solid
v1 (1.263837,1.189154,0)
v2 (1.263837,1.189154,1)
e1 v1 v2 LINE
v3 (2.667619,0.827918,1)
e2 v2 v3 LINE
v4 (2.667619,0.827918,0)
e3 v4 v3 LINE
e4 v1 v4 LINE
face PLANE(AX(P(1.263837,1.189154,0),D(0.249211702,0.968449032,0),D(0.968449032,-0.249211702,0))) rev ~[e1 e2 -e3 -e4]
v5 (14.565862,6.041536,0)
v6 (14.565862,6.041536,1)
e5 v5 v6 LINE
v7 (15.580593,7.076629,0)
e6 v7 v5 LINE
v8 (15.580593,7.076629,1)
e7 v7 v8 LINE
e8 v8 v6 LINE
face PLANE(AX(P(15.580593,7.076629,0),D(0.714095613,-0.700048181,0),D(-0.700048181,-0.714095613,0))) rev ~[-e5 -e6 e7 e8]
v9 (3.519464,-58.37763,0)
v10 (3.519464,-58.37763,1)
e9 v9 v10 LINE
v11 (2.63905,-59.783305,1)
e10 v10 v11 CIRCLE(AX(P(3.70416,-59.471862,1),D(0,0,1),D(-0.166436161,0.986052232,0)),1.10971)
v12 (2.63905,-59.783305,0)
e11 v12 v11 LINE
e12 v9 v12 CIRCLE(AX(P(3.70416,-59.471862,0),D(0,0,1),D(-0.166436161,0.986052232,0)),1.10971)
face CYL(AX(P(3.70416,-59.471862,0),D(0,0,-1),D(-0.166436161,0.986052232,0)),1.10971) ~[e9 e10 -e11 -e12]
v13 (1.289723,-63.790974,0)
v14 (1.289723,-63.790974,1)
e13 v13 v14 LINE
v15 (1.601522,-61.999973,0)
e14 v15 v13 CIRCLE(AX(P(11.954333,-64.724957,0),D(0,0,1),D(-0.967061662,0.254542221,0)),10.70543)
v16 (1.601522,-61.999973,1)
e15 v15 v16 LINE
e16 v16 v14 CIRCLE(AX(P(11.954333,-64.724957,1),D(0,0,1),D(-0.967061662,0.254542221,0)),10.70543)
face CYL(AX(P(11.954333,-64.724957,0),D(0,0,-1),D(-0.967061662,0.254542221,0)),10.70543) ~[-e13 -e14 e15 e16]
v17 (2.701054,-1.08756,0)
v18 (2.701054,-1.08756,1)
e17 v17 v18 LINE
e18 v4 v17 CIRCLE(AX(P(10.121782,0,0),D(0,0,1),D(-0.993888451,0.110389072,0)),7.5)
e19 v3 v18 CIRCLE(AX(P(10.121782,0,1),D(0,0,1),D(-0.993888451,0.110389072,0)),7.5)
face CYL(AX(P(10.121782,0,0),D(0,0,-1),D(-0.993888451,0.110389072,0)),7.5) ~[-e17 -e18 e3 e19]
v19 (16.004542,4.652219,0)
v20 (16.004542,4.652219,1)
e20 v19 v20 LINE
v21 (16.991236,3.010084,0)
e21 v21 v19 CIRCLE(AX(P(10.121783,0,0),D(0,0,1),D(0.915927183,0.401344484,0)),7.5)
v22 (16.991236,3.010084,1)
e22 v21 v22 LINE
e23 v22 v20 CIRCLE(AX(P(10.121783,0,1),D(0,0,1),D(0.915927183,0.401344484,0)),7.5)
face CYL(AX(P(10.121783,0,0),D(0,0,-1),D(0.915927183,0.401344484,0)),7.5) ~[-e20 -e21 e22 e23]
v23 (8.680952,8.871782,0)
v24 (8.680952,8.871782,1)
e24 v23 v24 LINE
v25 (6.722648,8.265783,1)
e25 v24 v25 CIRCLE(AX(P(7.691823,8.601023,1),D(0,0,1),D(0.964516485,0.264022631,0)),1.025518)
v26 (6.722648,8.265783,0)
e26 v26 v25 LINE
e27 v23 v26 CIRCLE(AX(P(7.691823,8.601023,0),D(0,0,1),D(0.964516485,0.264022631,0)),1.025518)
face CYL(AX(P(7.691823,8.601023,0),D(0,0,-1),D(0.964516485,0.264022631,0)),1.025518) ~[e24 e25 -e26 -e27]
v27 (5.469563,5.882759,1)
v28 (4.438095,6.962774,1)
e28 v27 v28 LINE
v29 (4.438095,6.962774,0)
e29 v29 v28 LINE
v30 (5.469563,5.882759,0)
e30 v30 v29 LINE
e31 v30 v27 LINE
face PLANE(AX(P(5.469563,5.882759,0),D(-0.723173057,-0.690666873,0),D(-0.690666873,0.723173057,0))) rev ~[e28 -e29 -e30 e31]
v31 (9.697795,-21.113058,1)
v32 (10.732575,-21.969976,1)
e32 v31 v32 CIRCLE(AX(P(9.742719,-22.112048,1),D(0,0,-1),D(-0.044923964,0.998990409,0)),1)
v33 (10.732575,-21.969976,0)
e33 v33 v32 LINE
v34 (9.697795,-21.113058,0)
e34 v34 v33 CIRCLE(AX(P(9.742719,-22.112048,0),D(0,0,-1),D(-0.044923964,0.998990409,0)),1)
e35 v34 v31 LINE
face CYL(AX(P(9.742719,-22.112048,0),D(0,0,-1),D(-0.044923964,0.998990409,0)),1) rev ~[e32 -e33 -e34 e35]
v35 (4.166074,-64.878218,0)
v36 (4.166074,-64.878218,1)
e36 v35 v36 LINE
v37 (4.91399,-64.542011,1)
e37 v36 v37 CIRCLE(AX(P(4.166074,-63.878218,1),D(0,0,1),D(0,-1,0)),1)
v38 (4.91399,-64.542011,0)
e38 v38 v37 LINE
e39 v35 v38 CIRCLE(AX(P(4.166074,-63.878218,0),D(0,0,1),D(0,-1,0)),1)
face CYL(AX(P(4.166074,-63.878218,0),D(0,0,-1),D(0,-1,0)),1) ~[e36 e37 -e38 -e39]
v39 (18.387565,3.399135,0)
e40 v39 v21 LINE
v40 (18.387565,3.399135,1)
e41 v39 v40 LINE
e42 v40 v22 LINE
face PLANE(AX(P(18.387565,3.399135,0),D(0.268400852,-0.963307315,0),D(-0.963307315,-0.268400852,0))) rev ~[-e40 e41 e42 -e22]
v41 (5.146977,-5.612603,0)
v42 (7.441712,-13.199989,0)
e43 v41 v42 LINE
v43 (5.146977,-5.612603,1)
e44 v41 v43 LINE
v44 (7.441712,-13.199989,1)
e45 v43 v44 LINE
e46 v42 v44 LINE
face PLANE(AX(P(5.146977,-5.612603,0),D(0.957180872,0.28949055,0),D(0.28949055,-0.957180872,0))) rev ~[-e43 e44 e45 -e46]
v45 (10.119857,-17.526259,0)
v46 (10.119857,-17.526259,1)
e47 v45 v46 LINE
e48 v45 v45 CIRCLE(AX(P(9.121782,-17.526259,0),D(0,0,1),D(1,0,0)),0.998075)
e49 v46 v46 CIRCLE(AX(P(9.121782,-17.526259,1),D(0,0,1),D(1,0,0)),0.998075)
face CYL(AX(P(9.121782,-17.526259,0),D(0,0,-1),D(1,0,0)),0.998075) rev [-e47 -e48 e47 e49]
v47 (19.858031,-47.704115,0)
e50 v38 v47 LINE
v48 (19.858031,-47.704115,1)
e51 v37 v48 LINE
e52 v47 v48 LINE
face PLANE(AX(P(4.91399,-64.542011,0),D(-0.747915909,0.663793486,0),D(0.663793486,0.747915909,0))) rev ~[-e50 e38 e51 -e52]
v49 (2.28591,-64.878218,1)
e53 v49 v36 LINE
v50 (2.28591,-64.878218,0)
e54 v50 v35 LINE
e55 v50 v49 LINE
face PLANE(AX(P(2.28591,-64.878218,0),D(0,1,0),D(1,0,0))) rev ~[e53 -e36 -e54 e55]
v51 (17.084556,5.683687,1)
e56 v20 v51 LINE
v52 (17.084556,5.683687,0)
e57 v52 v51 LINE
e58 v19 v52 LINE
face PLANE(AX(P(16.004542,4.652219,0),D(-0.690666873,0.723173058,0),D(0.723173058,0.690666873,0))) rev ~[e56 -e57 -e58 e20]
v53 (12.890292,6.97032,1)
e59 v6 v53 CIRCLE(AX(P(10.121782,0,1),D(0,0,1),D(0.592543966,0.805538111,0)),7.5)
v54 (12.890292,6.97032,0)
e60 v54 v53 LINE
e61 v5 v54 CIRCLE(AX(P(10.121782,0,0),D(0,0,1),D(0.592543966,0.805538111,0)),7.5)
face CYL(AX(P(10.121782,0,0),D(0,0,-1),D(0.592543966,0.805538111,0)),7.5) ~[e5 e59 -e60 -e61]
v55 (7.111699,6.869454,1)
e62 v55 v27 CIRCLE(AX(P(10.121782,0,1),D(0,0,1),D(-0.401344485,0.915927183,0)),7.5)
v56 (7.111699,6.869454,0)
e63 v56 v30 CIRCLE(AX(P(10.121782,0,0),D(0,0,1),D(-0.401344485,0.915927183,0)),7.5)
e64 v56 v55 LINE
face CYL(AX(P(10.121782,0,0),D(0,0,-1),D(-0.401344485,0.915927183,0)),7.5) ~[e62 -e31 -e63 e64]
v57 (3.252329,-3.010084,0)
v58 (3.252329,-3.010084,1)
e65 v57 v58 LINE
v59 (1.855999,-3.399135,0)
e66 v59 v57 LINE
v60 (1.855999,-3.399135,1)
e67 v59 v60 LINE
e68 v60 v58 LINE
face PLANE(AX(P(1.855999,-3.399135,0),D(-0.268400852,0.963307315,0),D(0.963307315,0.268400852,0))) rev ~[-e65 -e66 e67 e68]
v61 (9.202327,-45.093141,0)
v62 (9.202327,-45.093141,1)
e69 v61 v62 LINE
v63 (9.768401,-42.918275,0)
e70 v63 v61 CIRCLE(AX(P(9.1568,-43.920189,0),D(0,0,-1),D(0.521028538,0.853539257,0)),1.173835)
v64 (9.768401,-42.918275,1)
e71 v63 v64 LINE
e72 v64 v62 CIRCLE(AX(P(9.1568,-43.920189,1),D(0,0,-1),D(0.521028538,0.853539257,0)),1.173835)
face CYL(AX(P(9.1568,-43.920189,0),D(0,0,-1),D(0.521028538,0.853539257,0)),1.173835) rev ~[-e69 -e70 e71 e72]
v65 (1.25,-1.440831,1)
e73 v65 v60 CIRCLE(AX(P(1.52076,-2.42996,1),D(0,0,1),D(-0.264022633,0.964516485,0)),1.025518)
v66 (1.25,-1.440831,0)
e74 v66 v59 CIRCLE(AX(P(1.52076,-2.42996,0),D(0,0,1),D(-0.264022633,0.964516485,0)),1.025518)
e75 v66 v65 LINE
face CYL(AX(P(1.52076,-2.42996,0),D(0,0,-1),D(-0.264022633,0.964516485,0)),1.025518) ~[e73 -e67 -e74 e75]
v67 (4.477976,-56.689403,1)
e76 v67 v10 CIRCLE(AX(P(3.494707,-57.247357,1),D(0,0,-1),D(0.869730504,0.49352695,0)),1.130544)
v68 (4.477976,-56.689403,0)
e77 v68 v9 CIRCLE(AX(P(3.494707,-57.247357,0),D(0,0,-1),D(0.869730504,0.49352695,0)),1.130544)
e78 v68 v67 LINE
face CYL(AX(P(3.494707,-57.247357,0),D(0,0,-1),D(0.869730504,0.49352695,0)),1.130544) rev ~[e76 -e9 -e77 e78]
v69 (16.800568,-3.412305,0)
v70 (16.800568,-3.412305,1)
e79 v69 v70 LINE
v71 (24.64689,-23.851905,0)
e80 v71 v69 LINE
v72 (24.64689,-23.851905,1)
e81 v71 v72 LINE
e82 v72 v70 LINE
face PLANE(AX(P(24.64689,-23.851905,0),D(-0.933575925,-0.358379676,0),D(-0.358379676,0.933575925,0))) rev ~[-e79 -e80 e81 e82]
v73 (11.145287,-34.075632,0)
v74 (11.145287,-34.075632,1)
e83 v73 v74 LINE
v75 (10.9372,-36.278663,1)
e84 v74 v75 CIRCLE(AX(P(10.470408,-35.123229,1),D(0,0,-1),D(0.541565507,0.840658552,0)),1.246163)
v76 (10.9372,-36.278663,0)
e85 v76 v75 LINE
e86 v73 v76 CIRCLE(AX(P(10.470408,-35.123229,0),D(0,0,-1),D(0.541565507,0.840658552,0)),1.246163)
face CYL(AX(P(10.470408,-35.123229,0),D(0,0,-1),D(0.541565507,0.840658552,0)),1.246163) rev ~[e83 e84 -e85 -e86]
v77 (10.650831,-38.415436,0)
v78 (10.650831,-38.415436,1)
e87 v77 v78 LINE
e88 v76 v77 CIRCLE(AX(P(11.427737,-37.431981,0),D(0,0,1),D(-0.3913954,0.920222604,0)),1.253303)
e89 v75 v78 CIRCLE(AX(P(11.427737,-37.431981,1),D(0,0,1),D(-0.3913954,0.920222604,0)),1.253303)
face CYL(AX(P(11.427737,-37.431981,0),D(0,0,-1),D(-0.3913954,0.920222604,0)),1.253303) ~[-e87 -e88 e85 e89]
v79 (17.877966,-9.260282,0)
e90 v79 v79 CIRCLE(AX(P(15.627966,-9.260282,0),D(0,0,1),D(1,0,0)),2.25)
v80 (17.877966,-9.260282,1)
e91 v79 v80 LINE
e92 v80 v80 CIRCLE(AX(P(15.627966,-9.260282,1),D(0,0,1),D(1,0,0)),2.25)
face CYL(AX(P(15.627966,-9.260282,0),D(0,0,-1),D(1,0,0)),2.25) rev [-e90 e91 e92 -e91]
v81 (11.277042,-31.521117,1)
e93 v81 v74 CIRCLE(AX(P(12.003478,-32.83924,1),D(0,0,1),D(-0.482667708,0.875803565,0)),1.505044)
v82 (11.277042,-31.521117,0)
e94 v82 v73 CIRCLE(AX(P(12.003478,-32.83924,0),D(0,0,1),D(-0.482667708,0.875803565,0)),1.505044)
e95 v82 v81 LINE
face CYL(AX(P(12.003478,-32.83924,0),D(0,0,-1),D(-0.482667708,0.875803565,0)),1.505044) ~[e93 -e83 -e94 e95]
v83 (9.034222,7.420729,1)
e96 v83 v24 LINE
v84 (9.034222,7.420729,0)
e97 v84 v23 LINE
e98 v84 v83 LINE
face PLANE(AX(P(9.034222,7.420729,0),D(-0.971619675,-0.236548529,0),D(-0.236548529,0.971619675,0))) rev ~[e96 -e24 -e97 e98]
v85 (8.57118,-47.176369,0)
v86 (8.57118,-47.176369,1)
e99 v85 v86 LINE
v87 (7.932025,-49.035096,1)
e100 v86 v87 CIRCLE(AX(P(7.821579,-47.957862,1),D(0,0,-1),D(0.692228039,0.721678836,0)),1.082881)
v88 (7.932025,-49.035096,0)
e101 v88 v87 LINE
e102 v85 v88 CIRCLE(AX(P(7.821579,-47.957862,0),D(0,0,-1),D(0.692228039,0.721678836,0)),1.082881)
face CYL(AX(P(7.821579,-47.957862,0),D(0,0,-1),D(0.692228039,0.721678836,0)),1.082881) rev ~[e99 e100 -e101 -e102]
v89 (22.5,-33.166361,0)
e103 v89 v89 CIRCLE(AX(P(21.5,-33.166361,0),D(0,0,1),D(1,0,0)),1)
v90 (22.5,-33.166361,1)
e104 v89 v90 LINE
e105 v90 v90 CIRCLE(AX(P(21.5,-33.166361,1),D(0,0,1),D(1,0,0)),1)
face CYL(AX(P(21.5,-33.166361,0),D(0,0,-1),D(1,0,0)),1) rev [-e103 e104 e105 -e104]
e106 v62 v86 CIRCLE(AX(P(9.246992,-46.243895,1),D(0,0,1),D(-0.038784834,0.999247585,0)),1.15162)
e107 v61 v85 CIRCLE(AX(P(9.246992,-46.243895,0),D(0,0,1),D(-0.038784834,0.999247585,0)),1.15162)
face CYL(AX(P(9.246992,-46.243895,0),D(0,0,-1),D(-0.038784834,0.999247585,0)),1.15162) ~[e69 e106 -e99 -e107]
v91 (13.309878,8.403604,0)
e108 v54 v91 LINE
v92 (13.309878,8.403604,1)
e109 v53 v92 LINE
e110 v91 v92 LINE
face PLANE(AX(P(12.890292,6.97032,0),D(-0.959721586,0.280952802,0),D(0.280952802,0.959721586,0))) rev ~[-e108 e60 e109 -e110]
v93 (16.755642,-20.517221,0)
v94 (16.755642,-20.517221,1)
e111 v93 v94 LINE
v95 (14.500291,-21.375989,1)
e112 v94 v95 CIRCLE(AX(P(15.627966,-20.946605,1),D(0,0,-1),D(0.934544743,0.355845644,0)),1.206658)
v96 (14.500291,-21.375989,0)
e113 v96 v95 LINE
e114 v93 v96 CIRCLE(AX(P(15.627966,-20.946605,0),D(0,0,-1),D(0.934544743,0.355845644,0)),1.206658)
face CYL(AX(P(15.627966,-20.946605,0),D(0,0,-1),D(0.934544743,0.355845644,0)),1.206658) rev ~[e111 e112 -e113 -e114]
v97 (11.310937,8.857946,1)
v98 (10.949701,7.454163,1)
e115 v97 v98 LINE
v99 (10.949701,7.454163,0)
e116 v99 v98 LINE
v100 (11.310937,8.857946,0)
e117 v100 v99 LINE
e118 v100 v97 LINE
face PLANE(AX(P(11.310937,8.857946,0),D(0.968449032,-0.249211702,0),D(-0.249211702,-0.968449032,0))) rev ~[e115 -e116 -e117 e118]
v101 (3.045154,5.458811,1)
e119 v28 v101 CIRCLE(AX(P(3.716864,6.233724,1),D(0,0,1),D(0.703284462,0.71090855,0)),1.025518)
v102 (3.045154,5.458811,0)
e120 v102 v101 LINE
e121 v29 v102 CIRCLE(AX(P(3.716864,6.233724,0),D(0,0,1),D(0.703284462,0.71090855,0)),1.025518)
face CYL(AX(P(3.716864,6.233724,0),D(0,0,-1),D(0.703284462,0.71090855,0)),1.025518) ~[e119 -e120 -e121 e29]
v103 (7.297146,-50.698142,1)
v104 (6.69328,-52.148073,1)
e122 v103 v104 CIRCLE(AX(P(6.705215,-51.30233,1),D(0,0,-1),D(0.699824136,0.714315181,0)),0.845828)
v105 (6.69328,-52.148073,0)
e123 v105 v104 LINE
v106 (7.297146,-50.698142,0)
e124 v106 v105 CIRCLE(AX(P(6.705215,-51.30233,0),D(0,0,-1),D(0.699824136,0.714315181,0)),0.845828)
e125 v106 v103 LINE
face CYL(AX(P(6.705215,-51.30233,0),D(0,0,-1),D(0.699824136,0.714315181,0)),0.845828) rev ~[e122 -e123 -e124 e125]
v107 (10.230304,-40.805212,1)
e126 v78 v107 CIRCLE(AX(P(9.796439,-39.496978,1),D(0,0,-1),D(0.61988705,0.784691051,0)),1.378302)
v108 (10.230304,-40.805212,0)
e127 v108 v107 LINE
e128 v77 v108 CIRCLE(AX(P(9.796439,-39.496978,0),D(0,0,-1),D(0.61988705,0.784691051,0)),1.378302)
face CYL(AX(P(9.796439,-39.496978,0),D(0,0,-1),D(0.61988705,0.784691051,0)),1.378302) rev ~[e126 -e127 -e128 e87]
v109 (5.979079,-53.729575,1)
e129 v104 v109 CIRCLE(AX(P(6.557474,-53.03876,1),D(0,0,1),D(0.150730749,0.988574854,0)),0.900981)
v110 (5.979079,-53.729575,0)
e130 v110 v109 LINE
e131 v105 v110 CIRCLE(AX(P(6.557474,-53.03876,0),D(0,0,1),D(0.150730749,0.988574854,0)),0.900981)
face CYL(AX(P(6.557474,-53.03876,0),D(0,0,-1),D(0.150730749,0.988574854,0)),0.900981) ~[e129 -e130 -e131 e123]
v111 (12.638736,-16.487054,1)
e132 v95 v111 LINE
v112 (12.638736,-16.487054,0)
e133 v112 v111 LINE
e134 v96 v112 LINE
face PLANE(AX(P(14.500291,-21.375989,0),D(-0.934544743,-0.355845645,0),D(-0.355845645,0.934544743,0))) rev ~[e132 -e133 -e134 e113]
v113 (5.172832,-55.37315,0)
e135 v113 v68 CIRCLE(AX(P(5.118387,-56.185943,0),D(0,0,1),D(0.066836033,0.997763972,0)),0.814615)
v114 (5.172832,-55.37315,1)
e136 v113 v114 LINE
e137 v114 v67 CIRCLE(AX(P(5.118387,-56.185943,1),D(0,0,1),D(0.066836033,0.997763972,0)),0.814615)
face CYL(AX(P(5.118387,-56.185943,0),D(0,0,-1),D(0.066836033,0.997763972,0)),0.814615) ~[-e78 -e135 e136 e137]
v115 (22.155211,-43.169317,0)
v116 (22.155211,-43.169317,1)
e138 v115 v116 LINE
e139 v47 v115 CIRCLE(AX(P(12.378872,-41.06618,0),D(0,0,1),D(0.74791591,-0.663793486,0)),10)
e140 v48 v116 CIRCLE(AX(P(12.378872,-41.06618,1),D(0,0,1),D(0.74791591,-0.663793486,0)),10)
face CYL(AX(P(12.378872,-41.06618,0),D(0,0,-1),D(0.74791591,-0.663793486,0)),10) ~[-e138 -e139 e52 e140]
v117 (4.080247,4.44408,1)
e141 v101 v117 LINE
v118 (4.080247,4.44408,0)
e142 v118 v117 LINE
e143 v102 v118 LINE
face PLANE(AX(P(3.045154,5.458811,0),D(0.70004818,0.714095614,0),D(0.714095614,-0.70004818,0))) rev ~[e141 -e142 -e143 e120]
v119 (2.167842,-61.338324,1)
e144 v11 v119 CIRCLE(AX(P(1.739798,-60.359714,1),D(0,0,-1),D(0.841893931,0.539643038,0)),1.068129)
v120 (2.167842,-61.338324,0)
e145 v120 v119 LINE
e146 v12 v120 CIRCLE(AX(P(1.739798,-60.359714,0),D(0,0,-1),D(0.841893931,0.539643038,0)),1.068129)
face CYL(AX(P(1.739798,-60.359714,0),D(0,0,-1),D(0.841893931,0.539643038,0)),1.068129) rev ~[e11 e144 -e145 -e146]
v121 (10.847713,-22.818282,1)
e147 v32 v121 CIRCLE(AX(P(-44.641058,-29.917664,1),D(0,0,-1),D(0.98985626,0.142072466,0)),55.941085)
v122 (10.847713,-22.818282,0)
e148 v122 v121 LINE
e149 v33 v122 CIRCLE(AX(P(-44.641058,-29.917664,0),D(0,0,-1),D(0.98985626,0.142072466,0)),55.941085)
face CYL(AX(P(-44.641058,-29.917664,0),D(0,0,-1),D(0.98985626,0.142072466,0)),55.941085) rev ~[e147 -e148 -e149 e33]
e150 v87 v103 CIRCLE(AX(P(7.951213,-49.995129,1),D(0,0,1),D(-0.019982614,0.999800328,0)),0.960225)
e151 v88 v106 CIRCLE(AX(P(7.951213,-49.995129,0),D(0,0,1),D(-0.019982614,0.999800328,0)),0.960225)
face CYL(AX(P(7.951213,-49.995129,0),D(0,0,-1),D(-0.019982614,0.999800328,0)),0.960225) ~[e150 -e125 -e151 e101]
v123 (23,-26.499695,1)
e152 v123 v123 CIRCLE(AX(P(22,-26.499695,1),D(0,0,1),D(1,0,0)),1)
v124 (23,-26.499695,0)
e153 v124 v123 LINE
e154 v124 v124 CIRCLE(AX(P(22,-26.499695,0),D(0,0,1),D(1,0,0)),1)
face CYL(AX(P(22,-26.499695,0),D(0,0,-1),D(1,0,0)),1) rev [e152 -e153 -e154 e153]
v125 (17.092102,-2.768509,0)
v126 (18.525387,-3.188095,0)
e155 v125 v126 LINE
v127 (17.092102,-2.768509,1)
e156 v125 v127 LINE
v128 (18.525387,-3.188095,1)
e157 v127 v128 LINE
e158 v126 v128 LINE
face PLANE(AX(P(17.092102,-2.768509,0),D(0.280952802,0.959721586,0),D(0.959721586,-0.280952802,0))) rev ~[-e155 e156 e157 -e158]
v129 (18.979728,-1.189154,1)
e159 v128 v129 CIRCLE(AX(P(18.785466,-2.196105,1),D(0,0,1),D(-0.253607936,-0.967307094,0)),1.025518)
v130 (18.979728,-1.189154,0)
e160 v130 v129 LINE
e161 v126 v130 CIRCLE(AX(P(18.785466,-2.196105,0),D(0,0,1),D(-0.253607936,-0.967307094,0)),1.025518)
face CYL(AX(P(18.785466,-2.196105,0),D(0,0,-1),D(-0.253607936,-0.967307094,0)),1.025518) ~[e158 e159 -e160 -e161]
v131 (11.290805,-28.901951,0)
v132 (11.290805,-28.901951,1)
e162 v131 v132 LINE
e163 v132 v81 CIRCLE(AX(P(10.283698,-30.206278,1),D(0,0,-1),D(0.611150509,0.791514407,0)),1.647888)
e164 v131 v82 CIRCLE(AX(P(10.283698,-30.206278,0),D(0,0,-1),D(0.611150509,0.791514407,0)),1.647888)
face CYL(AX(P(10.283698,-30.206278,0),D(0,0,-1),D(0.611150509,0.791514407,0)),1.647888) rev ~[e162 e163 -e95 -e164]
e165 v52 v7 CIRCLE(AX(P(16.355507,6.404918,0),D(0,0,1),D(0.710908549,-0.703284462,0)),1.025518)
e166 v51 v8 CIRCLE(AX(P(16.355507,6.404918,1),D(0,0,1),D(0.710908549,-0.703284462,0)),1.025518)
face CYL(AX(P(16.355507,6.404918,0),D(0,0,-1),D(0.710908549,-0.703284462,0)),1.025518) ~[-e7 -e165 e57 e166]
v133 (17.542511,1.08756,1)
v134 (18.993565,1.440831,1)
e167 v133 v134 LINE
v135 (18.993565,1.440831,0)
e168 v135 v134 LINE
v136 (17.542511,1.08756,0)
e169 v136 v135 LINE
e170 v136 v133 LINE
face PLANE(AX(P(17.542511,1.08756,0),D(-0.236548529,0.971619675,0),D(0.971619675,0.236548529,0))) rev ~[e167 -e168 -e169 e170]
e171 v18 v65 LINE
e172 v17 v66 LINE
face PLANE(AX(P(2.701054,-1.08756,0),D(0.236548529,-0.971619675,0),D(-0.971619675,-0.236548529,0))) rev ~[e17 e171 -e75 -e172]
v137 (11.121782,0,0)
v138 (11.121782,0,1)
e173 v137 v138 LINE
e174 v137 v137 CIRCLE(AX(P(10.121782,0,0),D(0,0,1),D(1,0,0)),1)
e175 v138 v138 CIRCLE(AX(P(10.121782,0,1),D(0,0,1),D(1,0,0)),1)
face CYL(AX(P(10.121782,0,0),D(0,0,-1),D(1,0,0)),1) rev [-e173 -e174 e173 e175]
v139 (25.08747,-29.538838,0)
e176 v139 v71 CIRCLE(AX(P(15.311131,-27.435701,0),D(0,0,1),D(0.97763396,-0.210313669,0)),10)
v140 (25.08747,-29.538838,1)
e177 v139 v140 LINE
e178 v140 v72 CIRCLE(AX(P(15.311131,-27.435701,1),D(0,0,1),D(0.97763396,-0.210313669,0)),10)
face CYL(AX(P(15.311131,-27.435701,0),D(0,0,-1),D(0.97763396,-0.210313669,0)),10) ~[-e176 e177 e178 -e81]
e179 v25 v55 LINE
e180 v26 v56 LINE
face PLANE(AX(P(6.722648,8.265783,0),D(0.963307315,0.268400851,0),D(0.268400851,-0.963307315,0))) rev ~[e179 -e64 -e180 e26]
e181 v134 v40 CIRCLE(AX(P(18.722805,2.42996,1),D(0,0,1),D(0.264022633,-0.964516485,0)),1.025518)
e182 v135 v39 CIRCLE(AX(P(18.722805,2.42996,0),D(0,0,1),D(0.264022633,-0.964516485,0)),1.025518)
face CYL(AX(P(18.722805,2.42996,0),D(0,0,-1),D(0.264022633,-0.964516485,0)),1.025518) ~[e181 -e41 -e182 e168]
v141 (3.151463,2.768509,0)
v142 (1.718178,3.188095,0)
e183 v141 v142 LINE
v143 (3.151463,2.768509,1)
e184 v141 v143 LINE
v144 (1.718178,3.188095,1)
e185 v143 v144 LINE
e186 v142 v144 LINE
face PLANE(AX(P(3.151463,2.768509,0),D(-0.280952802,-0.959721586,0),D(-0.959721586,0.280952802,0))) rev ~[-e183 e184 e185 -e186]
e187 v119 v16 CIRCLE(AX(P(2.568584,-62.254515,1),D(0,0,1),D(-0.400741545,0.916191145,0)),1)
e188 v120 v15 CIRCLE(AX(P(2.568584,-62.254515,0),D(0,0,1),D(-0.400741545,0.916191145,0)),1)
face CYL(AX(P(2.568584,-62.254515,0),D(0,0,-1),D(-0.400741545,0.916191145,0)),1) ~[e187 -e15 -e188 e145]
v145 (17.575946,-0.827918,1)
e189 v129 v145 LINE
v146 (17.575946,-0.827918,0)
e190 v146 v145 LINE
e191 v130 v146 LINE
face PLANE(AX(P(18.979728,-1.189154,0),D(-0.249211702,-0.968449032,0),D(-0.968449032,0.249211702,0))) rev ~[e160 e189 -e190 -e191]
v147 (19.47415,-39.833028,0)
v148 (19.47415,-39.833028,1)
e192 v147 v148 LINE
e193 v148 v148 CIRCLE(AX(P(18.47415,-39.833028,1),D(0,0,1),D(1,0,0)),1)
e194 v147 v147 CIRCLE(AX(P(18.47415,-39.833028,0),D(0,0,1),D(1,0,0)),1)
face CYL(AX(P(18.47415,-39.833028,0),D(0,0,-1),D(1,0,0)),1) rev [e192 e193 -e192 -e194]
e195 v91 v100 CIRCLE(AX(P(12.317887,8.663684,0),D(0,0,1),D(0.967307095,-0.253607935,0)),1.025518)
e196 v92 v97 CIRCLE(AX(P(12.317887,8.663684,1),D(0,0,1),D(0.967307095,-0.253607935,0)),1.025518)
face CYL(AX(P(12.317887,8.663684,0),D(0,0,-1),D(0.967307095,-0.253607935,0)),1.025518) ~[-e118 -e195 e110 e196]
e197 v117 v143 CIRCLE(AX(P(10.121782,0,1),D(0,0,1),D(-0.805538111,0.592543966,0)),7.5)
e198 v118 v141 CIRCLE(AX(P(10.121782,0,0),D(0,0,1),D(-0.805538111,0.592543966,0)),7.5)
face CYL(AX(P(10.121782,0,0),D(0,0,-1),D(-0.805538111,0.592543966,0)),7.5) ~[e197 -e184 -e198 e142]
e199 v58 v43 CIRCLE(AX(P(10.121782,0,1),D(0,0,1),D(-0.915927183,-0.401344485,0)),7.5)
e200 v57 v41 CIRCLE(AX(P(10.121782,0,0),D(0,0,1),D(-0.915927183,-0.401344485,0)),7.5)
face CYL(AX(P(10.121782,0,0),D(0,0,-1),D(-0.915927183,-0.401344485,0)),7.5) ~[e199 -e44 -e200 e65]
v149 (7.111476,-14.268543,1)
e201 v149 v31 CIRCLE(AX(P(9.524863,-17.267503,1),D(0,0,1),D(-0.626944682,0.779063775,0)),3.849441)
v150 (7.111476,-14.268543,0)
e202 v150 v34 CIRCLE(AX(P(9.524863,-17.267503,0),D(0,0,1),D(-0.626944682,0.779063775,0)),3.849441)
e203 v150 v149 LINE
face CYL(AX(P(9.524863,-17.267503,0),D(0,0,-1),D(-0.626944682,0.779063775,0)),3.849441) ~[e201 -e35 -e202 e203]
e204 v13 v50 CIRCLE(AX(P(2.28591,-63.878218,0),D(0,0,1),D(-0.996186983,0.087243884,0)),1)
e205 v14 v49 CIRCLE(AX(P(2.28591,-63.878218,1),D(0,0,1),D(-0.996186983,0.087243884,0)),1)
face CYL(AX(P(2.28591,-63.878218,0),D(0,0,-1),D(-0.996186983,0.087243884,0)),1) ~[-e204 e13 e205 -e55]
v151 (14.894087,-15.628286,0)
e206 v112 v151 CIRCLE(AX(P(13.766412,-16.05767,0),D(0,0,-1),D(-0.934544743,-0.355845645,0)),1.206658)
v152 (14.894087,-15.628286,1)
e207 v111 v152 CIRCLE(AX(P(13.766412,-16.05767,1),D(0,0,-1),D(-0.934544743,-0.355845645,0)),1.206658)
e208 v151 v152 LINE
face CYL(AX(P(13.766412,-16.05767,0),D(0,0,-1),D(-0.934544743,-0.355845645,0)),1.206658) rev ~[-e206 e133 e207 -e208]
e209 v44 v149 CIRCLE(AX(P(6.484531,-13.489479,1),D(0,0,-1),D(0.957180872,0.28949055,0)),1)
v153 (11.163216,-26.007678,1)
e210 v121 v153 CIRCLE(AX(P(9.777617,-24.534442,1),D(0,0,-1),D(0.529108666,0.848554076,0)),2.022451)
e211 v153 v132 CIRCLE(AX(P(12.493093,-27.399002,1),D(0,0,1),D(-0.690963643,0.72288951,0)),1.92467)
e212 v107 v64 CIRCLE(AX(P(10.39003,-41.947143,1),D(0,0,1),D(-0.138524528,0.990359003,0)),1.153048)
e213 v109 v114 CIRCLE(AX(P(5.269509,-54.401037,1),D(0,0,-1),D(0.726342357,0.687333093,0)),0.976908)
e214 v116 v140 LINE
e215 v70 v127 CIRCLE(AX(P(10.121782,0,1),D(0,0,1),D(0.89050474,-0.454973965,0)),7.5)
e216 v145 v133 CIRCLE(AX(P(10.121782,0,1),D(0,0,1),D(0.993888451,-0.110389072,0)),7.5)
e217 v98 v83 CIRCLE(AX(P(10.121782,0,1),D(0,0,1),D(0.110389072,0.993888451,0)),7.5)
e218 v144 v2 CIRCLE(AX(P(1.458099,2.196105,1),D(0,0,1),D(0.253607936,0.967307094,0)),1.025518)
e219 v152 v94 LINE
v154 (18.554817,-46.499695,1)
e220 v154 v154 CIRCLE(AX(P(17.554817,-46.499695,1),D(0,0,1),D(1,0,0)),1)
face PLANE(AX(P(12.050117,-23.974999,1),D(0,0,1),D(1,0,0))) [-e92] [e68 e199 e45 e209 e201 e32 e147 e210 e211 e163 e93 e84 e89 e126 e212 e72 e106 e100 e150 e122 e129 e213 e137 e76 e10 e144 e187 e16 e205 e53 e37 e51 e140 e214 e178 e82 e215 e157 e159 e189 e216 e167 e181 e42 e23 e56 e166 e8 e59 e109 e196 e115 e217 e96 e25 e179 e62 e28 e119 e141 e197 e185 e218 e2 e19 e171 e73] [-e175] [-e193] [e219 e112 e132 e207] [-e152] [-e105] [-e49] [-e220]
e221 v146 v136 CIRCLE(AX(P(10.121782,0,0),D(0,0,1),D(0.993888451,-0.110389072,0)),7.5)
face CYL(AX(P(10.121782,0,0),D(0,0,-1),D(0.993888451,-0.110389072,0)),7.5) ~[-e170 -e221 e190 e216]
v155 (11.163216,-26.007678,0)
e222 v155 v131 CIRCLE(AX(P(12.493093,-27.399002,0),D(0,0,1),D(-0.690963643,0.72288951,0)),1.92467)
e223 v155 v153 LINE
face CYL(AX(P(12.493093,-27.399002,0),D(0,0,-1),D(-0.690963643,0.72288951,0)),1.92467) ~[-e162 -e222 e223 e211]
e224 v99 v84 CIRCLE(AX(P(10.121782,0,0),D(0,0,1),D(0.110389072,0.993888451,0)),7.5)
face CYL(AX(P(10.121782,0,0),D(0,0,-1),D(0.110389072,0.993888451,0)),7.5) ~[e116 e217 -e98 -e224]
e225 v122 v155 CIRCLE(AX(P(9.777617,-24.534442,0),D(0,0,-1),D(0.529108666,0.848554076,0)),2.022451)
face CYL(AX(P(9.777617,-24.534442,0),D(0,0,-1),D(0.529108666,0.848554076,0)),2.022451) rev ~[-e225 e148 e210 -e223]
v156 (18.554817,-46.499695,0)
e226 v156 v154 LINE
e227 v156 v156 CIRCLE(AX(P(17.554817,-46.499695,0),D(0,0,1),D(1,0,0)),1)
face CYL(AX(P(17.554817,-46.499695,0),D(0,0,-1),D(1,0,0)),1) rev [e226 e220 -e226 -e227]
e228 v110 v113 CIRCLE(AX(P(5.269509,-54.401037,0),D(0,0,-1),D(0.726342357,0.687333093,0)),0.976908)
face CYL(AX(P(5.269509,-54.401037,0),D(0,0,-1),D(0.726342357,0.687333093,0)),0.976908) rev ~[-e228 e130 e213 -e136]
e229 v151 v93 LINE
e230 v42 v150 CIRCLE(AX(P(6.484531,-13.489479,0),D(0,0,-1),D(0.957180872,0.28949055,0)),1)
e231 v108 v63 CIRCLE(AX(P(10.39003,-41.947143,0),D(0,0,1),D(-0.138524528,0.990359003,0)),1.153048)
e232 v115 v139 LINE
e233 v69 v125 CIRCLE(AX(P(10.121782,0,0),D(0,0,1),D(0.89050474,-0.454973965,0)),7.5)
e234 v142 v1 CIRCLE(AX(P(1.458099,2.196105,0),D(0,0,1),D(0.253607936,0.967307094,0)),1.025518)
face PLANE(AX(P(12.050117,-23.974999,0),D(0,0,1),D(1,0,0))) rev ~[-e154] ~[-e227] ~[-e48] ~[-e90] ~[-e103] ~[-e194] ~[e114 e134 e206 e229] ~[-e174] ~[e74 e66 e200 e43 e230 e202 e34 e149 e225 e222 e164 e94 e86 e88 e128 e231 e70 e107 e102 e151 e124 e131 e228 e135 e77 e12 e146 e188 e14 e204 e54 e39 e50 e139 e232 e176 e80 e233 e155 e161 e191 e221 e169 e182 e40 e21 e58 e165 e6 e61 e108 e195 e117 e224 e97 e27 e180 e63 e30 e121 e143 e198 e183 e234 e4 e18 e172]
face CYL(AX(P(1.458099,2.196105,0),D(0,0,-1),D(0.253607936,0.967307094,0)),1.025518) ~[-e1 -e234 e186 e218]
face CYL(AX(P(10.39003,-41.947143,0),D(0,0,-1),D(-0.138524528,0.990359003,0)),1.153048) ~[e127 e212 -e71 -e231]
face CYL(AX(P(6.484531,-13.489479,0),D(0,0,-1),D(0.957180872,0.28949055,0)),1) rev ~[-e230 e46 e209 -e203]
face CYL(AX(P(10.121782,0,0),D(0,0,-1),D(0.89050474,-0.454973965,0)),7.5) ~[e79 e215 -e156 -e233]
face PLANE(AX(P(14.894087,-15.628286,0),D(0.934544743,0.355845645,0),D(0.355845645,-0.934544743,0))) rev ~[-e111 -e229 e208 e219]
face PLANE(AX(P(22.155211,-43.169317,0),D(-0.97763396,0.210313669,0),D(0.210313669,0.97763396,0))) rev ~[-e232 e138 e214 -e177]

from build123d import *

# Parameters (mm, degrees)
SKETCH1_R           = 1
SKETCH1_R_2         = 2.25
SKETCH1_R_3         = 0.998074624
BOSS_EXTRUDE2_DEPTH = 1


with BuildPart() as part:
    # Sketch1 → Boss-Extrude2 (new body)
    with BuildSketch(Plane.XY):
        with BuildLine():
            Line((5.146977165, -5.612602972), (7.44171219, -13.199988708))
            ThreePointArc((7.44171219, -13.199988708), (7.439945118, -13.784749424), (7.111476, -14.268543033))
            ThreePointArc((7.111476, -14.268543033), (5.923924569, -18.62818009), (9.697794763, -21.113057841))
            ThreePointArc((9.697794763, -21.113057841), (10.380528536, -21.341854348), (10.732574986, -21.969975788))
            ThreePointArc((10.732574986, -21.969975788), (10.79176698, -22.393908793), (10.847713449, -22.818282305))
            ThreePointArc((10.847713449, -22.818282305), (11.790244876, -24.335347863), (11.163215941, -26.007678007))
            ThreePointArc((11.163215941, -26.007678007), (10.570290463, -27.483765064), (11.290805177, -28.901951289))
            ThreePointArc((11.290805177, -28.901951289), (11.931562756, -30.214937196), (11.277042335, -31.52111685))
            ThreePointArc((11.277042335, -31.52111685), (10.500432467, -32.761716535), (11.145287396, -34.075631519))
            ThreePointArc((11.145287396, -34.075631519), (11.711049486, -35.240414103), (10.937199745, -36.278663489))
            ThreePointArc((10.937199745, -36.278663489), (10.185540032, -37.265502357), (10.650830557, -38.415436269))
            ThreePointArc((10.650830557, -38.415436269), (11.153884573, -39.735845823), (10.230304321, -40.805212107))
            ThreePointArc((10.230304321, -40.805212107), (9.263580844, -41.700908083), (9.768401259, -42.918274877))
            ThreePointArc((9.768401259, -42.918274877), (10.29278617, -44.215864041), (9.202326649, -45.093141196))
            ThreePointArc((9.202326649, -45.093141196), (8.144843355, -45.909982105), (8.571180325, -47.176369398))
            ThreePointArc((8.571180325, -47.176369398), (8.845608938, -48.309992252), (7.932024848, -49.035096348))
            ThreePointArc((7.932024848, -49.035096348), (7.054134874, -49.652663659), (7.297145805, -50.698142438))
            ThreePointArc((7.297145805, -50.698142438), (7.486031135, -51.627523472), (6.693279806, -52.148073283))
            ThreePointArc((6.693279806, -52.148073283), (5.736341709, -52.667939714), (5.979078831, -53.729575393))
            ThreePointArc((5.979078831, -53.729575393), (6.146574337, -54.831276595), (5.172832259, -55.373149872))
            ThreePointArc((5.172832259, -55.373149872), (4.397991341, -55.805643097), (4.477975588, -56.689402883))
            ThreePointArc((4.477975588, -56.689402883), (4.477842946, -57.805544451), (3.519463877, -58.377629741))
            ThreePointArc((3.519463877, -58.377629741), (2.763689302, -58.882818754), (2.639049746, -59.78330536))
            ThreePointArc((2.639049746, -59.78330536), (2.762025793, -60.669472955), (2.167842085, -61.338324084))
            ThreePointArc((2.167842085, -61.338324084), (1.808869059, -61.604258533), (1.601521968, -61.999973009))
            ThreePointArc((1.601521968, -61.999973009), (1.407536389, -62.888842845), (1.289722883, -63.790973638))
            ThreePointArc((1.289722883, -63.790973638), (1.548602642, -64.553775113), (2.285909866, -64.878217524))
            Line((2.285909866, -64.878217524), (4.16607409, -64.878217524))
            ThreePointArc((4.16607409, -64.878217524), (4.576078061, -64.790301261), (4.913989999, -64.54201101))
            Line((4.913989999, -64.54201101), (19.858030846, -47.704114694))
            ThreePointArc((19.858030846, -47.704114694), (21.299586827, -45.585122466), (22.155211357, -43.169316519))
            Line((22.155211357, -43.169316519), (25.087470282, -29.538838187))
            ThreePointArc((25.087470282, -29.538838187), (25.281255234, -26.663292069), (24.646889926, -23.851904734))
            Line((24.646889926, -23.851904734), (16.800568019, -3.412304746))
            ThreePointArc((16.800568019, -3.412304746), (16.953922391, -3.093842948), (17.092102067, -2.768509492))
            Line((17.092102067, -2.768509492), (18.525386899, -3.188095126))
            ThreePointArc((18.525386899, -3.188095126), (19.785478354, -2.423398267), (18.979727986, -1.189154327))
            Line((18.979727986, -1.189154327), (17.575945858, -0.827918039))
            ThreePointArc((17.575945858, -0.827918039), (17.62064019, 0.130893048), (17.54251106, 1.087560245))
            Line((17.54251106, 1.087560245), (18.993564953, 1.440830843))
            ThreePointArc((18.993564953, 1.440830843), (19.702487734, 2.733123476), (18.387565476, 3.399134899))
            Line((18.387565476, 3.399134899), (16.991236349, 3.010083636))
            ThreePointArc((16.991236349, 3.010083636), (16.550537232, 3.862785562), (16.004541822, 4.652219092))
            Line((16.004541822, 4.652219092), (17.084556057, 5.68368735))
            ThreePointArc((17.084556057, 5.68368735), (17.052354878, 7.157306991), (15.580593087, 7.076628673))
            Line((15.580593087, 7.076628673), (14.565862222, 6.041535833))
            ThreePointArc((14.565862222, 6.041535833), (13.757854628, 6.559647804), (12.890291968, 6.97031959))
            Line((12.890291968, 6.97031959), (13.309877602, 8.403604423))
            ThreePointArc((13.309877602, 8.403604423), (12.545180743, 9.663695877), (11.310936803, 8.857945509))
            Line((11.310936803, 8.857945509), (10.949700516, 7.454163382))
            ThreePointArc((10.949700516, 7.454163382), (9.990889428, 7.498857714), (9.034222232, 7.420728584))
            Line((9.034222232, 7.420728584), (8.680951634, 8.871782476))
            ThreePointArc((8.680951634, 8.871782476), (7.388659, 9.580705258), (6.722647578, 8.265783))
            Line((6.722647578, 8.265783), (7.11169884, 6.869453872))
            ThreePointArc((7.11169884, 6.869453872), (6.258996915, 6.428754755), (5.469563385, 5.882759346))
            Line((5.469563385, 5.882759346), (4.438095126, 6.96277358))
            ThreePointArc((4.438095126, 6.96277358), (2.964475486, 6.930572401), (3.045153803, 5.45881061))
            Line((3.045153803, 5.45881061), (4.080246644, 4.444079745))
            ThreePointArc((4.080246644, 4.444079745), (3.562134673, 3.636072152), (3.151462886, 2.768509492))
            Line((3.151462886, 2.768509492), (1.718178054, 3.188095126))
            ThreePointArc((1.718178054, 3.188095126), (0.458086599, 2.423398267), (1.263836967, 1.189154327))
            Line((1.263836967, 1.189154327), (2.667619095, 0.827918039))
            ThreePointArc((2.667619095, 0.827918039), (2.622924763, -0.130893048), (2.701053893, -1.087560245))
            Line((2.701053893, -1.087560245), (1.25, -1.440830843))
            ThreePointArc((1.25, -1.440830843), (0.541077219, -2.733123476), (1.855999477, -3.399134899))
            Line((1.855999477, -3.399134899), (3.252328604, -3.010083636))
            ThreePointArc((3.252328604, -3.010083636), (4.058376204, -4.414193514), (5.146977165, -5.612602972))
        make_face()
        with Locations((10.121782476, 0)):
            Circle(SKETCH1_R, mode=Mode.SUBTRACT)
        with Locations((15.627966379, -9.260281964)):
            Circle(SKETCH1_R_2, mode=Mode.SUBTRACT)
        with Locations((9.121782476, -17.526259213)):
            Circle(SKETCH1_R_3, mode=Mode.SUBTRACT)
        with Locations((22, -26.49969455)):
            Circle(SKETCH1_R, mode=Mode.SUBTRACT)
        with Locations((21.5, -33.166361217)):
            Circle(SKETCH1_R, mode=Mode.SUBTRACT)
        with Locations((18.474150388, -39.833027883)):
            Circle(SKETCH1_R, mode=Mode.SUBTRACT)
        with Locations((17.55481685, -46.49969455)):
            Circle(SKETCH1_R, mode=Mode.SUBTRACT)
        with BuildLine():
            Line((14.500290742, -21.375988683), (12.638736062, -16.487053928))
            ThreePointArc((12.638736062, -16.487053928), (13.337027802, -14.929994394), (14.894087335, -15.628286133))
            Line((14.894087335, -15.628286133), (16.755642015, -20.517220889))
            ThreePointArc((16.755642015, -20.517220889), (16.057350276, -22.074280422), (14.500290742, -21.375988683))
        make_face(mode=Mode.SUBTRACT)
    extrude(amount=BOSS_EXTRUDE2_DEPTH)


solid = part.part
